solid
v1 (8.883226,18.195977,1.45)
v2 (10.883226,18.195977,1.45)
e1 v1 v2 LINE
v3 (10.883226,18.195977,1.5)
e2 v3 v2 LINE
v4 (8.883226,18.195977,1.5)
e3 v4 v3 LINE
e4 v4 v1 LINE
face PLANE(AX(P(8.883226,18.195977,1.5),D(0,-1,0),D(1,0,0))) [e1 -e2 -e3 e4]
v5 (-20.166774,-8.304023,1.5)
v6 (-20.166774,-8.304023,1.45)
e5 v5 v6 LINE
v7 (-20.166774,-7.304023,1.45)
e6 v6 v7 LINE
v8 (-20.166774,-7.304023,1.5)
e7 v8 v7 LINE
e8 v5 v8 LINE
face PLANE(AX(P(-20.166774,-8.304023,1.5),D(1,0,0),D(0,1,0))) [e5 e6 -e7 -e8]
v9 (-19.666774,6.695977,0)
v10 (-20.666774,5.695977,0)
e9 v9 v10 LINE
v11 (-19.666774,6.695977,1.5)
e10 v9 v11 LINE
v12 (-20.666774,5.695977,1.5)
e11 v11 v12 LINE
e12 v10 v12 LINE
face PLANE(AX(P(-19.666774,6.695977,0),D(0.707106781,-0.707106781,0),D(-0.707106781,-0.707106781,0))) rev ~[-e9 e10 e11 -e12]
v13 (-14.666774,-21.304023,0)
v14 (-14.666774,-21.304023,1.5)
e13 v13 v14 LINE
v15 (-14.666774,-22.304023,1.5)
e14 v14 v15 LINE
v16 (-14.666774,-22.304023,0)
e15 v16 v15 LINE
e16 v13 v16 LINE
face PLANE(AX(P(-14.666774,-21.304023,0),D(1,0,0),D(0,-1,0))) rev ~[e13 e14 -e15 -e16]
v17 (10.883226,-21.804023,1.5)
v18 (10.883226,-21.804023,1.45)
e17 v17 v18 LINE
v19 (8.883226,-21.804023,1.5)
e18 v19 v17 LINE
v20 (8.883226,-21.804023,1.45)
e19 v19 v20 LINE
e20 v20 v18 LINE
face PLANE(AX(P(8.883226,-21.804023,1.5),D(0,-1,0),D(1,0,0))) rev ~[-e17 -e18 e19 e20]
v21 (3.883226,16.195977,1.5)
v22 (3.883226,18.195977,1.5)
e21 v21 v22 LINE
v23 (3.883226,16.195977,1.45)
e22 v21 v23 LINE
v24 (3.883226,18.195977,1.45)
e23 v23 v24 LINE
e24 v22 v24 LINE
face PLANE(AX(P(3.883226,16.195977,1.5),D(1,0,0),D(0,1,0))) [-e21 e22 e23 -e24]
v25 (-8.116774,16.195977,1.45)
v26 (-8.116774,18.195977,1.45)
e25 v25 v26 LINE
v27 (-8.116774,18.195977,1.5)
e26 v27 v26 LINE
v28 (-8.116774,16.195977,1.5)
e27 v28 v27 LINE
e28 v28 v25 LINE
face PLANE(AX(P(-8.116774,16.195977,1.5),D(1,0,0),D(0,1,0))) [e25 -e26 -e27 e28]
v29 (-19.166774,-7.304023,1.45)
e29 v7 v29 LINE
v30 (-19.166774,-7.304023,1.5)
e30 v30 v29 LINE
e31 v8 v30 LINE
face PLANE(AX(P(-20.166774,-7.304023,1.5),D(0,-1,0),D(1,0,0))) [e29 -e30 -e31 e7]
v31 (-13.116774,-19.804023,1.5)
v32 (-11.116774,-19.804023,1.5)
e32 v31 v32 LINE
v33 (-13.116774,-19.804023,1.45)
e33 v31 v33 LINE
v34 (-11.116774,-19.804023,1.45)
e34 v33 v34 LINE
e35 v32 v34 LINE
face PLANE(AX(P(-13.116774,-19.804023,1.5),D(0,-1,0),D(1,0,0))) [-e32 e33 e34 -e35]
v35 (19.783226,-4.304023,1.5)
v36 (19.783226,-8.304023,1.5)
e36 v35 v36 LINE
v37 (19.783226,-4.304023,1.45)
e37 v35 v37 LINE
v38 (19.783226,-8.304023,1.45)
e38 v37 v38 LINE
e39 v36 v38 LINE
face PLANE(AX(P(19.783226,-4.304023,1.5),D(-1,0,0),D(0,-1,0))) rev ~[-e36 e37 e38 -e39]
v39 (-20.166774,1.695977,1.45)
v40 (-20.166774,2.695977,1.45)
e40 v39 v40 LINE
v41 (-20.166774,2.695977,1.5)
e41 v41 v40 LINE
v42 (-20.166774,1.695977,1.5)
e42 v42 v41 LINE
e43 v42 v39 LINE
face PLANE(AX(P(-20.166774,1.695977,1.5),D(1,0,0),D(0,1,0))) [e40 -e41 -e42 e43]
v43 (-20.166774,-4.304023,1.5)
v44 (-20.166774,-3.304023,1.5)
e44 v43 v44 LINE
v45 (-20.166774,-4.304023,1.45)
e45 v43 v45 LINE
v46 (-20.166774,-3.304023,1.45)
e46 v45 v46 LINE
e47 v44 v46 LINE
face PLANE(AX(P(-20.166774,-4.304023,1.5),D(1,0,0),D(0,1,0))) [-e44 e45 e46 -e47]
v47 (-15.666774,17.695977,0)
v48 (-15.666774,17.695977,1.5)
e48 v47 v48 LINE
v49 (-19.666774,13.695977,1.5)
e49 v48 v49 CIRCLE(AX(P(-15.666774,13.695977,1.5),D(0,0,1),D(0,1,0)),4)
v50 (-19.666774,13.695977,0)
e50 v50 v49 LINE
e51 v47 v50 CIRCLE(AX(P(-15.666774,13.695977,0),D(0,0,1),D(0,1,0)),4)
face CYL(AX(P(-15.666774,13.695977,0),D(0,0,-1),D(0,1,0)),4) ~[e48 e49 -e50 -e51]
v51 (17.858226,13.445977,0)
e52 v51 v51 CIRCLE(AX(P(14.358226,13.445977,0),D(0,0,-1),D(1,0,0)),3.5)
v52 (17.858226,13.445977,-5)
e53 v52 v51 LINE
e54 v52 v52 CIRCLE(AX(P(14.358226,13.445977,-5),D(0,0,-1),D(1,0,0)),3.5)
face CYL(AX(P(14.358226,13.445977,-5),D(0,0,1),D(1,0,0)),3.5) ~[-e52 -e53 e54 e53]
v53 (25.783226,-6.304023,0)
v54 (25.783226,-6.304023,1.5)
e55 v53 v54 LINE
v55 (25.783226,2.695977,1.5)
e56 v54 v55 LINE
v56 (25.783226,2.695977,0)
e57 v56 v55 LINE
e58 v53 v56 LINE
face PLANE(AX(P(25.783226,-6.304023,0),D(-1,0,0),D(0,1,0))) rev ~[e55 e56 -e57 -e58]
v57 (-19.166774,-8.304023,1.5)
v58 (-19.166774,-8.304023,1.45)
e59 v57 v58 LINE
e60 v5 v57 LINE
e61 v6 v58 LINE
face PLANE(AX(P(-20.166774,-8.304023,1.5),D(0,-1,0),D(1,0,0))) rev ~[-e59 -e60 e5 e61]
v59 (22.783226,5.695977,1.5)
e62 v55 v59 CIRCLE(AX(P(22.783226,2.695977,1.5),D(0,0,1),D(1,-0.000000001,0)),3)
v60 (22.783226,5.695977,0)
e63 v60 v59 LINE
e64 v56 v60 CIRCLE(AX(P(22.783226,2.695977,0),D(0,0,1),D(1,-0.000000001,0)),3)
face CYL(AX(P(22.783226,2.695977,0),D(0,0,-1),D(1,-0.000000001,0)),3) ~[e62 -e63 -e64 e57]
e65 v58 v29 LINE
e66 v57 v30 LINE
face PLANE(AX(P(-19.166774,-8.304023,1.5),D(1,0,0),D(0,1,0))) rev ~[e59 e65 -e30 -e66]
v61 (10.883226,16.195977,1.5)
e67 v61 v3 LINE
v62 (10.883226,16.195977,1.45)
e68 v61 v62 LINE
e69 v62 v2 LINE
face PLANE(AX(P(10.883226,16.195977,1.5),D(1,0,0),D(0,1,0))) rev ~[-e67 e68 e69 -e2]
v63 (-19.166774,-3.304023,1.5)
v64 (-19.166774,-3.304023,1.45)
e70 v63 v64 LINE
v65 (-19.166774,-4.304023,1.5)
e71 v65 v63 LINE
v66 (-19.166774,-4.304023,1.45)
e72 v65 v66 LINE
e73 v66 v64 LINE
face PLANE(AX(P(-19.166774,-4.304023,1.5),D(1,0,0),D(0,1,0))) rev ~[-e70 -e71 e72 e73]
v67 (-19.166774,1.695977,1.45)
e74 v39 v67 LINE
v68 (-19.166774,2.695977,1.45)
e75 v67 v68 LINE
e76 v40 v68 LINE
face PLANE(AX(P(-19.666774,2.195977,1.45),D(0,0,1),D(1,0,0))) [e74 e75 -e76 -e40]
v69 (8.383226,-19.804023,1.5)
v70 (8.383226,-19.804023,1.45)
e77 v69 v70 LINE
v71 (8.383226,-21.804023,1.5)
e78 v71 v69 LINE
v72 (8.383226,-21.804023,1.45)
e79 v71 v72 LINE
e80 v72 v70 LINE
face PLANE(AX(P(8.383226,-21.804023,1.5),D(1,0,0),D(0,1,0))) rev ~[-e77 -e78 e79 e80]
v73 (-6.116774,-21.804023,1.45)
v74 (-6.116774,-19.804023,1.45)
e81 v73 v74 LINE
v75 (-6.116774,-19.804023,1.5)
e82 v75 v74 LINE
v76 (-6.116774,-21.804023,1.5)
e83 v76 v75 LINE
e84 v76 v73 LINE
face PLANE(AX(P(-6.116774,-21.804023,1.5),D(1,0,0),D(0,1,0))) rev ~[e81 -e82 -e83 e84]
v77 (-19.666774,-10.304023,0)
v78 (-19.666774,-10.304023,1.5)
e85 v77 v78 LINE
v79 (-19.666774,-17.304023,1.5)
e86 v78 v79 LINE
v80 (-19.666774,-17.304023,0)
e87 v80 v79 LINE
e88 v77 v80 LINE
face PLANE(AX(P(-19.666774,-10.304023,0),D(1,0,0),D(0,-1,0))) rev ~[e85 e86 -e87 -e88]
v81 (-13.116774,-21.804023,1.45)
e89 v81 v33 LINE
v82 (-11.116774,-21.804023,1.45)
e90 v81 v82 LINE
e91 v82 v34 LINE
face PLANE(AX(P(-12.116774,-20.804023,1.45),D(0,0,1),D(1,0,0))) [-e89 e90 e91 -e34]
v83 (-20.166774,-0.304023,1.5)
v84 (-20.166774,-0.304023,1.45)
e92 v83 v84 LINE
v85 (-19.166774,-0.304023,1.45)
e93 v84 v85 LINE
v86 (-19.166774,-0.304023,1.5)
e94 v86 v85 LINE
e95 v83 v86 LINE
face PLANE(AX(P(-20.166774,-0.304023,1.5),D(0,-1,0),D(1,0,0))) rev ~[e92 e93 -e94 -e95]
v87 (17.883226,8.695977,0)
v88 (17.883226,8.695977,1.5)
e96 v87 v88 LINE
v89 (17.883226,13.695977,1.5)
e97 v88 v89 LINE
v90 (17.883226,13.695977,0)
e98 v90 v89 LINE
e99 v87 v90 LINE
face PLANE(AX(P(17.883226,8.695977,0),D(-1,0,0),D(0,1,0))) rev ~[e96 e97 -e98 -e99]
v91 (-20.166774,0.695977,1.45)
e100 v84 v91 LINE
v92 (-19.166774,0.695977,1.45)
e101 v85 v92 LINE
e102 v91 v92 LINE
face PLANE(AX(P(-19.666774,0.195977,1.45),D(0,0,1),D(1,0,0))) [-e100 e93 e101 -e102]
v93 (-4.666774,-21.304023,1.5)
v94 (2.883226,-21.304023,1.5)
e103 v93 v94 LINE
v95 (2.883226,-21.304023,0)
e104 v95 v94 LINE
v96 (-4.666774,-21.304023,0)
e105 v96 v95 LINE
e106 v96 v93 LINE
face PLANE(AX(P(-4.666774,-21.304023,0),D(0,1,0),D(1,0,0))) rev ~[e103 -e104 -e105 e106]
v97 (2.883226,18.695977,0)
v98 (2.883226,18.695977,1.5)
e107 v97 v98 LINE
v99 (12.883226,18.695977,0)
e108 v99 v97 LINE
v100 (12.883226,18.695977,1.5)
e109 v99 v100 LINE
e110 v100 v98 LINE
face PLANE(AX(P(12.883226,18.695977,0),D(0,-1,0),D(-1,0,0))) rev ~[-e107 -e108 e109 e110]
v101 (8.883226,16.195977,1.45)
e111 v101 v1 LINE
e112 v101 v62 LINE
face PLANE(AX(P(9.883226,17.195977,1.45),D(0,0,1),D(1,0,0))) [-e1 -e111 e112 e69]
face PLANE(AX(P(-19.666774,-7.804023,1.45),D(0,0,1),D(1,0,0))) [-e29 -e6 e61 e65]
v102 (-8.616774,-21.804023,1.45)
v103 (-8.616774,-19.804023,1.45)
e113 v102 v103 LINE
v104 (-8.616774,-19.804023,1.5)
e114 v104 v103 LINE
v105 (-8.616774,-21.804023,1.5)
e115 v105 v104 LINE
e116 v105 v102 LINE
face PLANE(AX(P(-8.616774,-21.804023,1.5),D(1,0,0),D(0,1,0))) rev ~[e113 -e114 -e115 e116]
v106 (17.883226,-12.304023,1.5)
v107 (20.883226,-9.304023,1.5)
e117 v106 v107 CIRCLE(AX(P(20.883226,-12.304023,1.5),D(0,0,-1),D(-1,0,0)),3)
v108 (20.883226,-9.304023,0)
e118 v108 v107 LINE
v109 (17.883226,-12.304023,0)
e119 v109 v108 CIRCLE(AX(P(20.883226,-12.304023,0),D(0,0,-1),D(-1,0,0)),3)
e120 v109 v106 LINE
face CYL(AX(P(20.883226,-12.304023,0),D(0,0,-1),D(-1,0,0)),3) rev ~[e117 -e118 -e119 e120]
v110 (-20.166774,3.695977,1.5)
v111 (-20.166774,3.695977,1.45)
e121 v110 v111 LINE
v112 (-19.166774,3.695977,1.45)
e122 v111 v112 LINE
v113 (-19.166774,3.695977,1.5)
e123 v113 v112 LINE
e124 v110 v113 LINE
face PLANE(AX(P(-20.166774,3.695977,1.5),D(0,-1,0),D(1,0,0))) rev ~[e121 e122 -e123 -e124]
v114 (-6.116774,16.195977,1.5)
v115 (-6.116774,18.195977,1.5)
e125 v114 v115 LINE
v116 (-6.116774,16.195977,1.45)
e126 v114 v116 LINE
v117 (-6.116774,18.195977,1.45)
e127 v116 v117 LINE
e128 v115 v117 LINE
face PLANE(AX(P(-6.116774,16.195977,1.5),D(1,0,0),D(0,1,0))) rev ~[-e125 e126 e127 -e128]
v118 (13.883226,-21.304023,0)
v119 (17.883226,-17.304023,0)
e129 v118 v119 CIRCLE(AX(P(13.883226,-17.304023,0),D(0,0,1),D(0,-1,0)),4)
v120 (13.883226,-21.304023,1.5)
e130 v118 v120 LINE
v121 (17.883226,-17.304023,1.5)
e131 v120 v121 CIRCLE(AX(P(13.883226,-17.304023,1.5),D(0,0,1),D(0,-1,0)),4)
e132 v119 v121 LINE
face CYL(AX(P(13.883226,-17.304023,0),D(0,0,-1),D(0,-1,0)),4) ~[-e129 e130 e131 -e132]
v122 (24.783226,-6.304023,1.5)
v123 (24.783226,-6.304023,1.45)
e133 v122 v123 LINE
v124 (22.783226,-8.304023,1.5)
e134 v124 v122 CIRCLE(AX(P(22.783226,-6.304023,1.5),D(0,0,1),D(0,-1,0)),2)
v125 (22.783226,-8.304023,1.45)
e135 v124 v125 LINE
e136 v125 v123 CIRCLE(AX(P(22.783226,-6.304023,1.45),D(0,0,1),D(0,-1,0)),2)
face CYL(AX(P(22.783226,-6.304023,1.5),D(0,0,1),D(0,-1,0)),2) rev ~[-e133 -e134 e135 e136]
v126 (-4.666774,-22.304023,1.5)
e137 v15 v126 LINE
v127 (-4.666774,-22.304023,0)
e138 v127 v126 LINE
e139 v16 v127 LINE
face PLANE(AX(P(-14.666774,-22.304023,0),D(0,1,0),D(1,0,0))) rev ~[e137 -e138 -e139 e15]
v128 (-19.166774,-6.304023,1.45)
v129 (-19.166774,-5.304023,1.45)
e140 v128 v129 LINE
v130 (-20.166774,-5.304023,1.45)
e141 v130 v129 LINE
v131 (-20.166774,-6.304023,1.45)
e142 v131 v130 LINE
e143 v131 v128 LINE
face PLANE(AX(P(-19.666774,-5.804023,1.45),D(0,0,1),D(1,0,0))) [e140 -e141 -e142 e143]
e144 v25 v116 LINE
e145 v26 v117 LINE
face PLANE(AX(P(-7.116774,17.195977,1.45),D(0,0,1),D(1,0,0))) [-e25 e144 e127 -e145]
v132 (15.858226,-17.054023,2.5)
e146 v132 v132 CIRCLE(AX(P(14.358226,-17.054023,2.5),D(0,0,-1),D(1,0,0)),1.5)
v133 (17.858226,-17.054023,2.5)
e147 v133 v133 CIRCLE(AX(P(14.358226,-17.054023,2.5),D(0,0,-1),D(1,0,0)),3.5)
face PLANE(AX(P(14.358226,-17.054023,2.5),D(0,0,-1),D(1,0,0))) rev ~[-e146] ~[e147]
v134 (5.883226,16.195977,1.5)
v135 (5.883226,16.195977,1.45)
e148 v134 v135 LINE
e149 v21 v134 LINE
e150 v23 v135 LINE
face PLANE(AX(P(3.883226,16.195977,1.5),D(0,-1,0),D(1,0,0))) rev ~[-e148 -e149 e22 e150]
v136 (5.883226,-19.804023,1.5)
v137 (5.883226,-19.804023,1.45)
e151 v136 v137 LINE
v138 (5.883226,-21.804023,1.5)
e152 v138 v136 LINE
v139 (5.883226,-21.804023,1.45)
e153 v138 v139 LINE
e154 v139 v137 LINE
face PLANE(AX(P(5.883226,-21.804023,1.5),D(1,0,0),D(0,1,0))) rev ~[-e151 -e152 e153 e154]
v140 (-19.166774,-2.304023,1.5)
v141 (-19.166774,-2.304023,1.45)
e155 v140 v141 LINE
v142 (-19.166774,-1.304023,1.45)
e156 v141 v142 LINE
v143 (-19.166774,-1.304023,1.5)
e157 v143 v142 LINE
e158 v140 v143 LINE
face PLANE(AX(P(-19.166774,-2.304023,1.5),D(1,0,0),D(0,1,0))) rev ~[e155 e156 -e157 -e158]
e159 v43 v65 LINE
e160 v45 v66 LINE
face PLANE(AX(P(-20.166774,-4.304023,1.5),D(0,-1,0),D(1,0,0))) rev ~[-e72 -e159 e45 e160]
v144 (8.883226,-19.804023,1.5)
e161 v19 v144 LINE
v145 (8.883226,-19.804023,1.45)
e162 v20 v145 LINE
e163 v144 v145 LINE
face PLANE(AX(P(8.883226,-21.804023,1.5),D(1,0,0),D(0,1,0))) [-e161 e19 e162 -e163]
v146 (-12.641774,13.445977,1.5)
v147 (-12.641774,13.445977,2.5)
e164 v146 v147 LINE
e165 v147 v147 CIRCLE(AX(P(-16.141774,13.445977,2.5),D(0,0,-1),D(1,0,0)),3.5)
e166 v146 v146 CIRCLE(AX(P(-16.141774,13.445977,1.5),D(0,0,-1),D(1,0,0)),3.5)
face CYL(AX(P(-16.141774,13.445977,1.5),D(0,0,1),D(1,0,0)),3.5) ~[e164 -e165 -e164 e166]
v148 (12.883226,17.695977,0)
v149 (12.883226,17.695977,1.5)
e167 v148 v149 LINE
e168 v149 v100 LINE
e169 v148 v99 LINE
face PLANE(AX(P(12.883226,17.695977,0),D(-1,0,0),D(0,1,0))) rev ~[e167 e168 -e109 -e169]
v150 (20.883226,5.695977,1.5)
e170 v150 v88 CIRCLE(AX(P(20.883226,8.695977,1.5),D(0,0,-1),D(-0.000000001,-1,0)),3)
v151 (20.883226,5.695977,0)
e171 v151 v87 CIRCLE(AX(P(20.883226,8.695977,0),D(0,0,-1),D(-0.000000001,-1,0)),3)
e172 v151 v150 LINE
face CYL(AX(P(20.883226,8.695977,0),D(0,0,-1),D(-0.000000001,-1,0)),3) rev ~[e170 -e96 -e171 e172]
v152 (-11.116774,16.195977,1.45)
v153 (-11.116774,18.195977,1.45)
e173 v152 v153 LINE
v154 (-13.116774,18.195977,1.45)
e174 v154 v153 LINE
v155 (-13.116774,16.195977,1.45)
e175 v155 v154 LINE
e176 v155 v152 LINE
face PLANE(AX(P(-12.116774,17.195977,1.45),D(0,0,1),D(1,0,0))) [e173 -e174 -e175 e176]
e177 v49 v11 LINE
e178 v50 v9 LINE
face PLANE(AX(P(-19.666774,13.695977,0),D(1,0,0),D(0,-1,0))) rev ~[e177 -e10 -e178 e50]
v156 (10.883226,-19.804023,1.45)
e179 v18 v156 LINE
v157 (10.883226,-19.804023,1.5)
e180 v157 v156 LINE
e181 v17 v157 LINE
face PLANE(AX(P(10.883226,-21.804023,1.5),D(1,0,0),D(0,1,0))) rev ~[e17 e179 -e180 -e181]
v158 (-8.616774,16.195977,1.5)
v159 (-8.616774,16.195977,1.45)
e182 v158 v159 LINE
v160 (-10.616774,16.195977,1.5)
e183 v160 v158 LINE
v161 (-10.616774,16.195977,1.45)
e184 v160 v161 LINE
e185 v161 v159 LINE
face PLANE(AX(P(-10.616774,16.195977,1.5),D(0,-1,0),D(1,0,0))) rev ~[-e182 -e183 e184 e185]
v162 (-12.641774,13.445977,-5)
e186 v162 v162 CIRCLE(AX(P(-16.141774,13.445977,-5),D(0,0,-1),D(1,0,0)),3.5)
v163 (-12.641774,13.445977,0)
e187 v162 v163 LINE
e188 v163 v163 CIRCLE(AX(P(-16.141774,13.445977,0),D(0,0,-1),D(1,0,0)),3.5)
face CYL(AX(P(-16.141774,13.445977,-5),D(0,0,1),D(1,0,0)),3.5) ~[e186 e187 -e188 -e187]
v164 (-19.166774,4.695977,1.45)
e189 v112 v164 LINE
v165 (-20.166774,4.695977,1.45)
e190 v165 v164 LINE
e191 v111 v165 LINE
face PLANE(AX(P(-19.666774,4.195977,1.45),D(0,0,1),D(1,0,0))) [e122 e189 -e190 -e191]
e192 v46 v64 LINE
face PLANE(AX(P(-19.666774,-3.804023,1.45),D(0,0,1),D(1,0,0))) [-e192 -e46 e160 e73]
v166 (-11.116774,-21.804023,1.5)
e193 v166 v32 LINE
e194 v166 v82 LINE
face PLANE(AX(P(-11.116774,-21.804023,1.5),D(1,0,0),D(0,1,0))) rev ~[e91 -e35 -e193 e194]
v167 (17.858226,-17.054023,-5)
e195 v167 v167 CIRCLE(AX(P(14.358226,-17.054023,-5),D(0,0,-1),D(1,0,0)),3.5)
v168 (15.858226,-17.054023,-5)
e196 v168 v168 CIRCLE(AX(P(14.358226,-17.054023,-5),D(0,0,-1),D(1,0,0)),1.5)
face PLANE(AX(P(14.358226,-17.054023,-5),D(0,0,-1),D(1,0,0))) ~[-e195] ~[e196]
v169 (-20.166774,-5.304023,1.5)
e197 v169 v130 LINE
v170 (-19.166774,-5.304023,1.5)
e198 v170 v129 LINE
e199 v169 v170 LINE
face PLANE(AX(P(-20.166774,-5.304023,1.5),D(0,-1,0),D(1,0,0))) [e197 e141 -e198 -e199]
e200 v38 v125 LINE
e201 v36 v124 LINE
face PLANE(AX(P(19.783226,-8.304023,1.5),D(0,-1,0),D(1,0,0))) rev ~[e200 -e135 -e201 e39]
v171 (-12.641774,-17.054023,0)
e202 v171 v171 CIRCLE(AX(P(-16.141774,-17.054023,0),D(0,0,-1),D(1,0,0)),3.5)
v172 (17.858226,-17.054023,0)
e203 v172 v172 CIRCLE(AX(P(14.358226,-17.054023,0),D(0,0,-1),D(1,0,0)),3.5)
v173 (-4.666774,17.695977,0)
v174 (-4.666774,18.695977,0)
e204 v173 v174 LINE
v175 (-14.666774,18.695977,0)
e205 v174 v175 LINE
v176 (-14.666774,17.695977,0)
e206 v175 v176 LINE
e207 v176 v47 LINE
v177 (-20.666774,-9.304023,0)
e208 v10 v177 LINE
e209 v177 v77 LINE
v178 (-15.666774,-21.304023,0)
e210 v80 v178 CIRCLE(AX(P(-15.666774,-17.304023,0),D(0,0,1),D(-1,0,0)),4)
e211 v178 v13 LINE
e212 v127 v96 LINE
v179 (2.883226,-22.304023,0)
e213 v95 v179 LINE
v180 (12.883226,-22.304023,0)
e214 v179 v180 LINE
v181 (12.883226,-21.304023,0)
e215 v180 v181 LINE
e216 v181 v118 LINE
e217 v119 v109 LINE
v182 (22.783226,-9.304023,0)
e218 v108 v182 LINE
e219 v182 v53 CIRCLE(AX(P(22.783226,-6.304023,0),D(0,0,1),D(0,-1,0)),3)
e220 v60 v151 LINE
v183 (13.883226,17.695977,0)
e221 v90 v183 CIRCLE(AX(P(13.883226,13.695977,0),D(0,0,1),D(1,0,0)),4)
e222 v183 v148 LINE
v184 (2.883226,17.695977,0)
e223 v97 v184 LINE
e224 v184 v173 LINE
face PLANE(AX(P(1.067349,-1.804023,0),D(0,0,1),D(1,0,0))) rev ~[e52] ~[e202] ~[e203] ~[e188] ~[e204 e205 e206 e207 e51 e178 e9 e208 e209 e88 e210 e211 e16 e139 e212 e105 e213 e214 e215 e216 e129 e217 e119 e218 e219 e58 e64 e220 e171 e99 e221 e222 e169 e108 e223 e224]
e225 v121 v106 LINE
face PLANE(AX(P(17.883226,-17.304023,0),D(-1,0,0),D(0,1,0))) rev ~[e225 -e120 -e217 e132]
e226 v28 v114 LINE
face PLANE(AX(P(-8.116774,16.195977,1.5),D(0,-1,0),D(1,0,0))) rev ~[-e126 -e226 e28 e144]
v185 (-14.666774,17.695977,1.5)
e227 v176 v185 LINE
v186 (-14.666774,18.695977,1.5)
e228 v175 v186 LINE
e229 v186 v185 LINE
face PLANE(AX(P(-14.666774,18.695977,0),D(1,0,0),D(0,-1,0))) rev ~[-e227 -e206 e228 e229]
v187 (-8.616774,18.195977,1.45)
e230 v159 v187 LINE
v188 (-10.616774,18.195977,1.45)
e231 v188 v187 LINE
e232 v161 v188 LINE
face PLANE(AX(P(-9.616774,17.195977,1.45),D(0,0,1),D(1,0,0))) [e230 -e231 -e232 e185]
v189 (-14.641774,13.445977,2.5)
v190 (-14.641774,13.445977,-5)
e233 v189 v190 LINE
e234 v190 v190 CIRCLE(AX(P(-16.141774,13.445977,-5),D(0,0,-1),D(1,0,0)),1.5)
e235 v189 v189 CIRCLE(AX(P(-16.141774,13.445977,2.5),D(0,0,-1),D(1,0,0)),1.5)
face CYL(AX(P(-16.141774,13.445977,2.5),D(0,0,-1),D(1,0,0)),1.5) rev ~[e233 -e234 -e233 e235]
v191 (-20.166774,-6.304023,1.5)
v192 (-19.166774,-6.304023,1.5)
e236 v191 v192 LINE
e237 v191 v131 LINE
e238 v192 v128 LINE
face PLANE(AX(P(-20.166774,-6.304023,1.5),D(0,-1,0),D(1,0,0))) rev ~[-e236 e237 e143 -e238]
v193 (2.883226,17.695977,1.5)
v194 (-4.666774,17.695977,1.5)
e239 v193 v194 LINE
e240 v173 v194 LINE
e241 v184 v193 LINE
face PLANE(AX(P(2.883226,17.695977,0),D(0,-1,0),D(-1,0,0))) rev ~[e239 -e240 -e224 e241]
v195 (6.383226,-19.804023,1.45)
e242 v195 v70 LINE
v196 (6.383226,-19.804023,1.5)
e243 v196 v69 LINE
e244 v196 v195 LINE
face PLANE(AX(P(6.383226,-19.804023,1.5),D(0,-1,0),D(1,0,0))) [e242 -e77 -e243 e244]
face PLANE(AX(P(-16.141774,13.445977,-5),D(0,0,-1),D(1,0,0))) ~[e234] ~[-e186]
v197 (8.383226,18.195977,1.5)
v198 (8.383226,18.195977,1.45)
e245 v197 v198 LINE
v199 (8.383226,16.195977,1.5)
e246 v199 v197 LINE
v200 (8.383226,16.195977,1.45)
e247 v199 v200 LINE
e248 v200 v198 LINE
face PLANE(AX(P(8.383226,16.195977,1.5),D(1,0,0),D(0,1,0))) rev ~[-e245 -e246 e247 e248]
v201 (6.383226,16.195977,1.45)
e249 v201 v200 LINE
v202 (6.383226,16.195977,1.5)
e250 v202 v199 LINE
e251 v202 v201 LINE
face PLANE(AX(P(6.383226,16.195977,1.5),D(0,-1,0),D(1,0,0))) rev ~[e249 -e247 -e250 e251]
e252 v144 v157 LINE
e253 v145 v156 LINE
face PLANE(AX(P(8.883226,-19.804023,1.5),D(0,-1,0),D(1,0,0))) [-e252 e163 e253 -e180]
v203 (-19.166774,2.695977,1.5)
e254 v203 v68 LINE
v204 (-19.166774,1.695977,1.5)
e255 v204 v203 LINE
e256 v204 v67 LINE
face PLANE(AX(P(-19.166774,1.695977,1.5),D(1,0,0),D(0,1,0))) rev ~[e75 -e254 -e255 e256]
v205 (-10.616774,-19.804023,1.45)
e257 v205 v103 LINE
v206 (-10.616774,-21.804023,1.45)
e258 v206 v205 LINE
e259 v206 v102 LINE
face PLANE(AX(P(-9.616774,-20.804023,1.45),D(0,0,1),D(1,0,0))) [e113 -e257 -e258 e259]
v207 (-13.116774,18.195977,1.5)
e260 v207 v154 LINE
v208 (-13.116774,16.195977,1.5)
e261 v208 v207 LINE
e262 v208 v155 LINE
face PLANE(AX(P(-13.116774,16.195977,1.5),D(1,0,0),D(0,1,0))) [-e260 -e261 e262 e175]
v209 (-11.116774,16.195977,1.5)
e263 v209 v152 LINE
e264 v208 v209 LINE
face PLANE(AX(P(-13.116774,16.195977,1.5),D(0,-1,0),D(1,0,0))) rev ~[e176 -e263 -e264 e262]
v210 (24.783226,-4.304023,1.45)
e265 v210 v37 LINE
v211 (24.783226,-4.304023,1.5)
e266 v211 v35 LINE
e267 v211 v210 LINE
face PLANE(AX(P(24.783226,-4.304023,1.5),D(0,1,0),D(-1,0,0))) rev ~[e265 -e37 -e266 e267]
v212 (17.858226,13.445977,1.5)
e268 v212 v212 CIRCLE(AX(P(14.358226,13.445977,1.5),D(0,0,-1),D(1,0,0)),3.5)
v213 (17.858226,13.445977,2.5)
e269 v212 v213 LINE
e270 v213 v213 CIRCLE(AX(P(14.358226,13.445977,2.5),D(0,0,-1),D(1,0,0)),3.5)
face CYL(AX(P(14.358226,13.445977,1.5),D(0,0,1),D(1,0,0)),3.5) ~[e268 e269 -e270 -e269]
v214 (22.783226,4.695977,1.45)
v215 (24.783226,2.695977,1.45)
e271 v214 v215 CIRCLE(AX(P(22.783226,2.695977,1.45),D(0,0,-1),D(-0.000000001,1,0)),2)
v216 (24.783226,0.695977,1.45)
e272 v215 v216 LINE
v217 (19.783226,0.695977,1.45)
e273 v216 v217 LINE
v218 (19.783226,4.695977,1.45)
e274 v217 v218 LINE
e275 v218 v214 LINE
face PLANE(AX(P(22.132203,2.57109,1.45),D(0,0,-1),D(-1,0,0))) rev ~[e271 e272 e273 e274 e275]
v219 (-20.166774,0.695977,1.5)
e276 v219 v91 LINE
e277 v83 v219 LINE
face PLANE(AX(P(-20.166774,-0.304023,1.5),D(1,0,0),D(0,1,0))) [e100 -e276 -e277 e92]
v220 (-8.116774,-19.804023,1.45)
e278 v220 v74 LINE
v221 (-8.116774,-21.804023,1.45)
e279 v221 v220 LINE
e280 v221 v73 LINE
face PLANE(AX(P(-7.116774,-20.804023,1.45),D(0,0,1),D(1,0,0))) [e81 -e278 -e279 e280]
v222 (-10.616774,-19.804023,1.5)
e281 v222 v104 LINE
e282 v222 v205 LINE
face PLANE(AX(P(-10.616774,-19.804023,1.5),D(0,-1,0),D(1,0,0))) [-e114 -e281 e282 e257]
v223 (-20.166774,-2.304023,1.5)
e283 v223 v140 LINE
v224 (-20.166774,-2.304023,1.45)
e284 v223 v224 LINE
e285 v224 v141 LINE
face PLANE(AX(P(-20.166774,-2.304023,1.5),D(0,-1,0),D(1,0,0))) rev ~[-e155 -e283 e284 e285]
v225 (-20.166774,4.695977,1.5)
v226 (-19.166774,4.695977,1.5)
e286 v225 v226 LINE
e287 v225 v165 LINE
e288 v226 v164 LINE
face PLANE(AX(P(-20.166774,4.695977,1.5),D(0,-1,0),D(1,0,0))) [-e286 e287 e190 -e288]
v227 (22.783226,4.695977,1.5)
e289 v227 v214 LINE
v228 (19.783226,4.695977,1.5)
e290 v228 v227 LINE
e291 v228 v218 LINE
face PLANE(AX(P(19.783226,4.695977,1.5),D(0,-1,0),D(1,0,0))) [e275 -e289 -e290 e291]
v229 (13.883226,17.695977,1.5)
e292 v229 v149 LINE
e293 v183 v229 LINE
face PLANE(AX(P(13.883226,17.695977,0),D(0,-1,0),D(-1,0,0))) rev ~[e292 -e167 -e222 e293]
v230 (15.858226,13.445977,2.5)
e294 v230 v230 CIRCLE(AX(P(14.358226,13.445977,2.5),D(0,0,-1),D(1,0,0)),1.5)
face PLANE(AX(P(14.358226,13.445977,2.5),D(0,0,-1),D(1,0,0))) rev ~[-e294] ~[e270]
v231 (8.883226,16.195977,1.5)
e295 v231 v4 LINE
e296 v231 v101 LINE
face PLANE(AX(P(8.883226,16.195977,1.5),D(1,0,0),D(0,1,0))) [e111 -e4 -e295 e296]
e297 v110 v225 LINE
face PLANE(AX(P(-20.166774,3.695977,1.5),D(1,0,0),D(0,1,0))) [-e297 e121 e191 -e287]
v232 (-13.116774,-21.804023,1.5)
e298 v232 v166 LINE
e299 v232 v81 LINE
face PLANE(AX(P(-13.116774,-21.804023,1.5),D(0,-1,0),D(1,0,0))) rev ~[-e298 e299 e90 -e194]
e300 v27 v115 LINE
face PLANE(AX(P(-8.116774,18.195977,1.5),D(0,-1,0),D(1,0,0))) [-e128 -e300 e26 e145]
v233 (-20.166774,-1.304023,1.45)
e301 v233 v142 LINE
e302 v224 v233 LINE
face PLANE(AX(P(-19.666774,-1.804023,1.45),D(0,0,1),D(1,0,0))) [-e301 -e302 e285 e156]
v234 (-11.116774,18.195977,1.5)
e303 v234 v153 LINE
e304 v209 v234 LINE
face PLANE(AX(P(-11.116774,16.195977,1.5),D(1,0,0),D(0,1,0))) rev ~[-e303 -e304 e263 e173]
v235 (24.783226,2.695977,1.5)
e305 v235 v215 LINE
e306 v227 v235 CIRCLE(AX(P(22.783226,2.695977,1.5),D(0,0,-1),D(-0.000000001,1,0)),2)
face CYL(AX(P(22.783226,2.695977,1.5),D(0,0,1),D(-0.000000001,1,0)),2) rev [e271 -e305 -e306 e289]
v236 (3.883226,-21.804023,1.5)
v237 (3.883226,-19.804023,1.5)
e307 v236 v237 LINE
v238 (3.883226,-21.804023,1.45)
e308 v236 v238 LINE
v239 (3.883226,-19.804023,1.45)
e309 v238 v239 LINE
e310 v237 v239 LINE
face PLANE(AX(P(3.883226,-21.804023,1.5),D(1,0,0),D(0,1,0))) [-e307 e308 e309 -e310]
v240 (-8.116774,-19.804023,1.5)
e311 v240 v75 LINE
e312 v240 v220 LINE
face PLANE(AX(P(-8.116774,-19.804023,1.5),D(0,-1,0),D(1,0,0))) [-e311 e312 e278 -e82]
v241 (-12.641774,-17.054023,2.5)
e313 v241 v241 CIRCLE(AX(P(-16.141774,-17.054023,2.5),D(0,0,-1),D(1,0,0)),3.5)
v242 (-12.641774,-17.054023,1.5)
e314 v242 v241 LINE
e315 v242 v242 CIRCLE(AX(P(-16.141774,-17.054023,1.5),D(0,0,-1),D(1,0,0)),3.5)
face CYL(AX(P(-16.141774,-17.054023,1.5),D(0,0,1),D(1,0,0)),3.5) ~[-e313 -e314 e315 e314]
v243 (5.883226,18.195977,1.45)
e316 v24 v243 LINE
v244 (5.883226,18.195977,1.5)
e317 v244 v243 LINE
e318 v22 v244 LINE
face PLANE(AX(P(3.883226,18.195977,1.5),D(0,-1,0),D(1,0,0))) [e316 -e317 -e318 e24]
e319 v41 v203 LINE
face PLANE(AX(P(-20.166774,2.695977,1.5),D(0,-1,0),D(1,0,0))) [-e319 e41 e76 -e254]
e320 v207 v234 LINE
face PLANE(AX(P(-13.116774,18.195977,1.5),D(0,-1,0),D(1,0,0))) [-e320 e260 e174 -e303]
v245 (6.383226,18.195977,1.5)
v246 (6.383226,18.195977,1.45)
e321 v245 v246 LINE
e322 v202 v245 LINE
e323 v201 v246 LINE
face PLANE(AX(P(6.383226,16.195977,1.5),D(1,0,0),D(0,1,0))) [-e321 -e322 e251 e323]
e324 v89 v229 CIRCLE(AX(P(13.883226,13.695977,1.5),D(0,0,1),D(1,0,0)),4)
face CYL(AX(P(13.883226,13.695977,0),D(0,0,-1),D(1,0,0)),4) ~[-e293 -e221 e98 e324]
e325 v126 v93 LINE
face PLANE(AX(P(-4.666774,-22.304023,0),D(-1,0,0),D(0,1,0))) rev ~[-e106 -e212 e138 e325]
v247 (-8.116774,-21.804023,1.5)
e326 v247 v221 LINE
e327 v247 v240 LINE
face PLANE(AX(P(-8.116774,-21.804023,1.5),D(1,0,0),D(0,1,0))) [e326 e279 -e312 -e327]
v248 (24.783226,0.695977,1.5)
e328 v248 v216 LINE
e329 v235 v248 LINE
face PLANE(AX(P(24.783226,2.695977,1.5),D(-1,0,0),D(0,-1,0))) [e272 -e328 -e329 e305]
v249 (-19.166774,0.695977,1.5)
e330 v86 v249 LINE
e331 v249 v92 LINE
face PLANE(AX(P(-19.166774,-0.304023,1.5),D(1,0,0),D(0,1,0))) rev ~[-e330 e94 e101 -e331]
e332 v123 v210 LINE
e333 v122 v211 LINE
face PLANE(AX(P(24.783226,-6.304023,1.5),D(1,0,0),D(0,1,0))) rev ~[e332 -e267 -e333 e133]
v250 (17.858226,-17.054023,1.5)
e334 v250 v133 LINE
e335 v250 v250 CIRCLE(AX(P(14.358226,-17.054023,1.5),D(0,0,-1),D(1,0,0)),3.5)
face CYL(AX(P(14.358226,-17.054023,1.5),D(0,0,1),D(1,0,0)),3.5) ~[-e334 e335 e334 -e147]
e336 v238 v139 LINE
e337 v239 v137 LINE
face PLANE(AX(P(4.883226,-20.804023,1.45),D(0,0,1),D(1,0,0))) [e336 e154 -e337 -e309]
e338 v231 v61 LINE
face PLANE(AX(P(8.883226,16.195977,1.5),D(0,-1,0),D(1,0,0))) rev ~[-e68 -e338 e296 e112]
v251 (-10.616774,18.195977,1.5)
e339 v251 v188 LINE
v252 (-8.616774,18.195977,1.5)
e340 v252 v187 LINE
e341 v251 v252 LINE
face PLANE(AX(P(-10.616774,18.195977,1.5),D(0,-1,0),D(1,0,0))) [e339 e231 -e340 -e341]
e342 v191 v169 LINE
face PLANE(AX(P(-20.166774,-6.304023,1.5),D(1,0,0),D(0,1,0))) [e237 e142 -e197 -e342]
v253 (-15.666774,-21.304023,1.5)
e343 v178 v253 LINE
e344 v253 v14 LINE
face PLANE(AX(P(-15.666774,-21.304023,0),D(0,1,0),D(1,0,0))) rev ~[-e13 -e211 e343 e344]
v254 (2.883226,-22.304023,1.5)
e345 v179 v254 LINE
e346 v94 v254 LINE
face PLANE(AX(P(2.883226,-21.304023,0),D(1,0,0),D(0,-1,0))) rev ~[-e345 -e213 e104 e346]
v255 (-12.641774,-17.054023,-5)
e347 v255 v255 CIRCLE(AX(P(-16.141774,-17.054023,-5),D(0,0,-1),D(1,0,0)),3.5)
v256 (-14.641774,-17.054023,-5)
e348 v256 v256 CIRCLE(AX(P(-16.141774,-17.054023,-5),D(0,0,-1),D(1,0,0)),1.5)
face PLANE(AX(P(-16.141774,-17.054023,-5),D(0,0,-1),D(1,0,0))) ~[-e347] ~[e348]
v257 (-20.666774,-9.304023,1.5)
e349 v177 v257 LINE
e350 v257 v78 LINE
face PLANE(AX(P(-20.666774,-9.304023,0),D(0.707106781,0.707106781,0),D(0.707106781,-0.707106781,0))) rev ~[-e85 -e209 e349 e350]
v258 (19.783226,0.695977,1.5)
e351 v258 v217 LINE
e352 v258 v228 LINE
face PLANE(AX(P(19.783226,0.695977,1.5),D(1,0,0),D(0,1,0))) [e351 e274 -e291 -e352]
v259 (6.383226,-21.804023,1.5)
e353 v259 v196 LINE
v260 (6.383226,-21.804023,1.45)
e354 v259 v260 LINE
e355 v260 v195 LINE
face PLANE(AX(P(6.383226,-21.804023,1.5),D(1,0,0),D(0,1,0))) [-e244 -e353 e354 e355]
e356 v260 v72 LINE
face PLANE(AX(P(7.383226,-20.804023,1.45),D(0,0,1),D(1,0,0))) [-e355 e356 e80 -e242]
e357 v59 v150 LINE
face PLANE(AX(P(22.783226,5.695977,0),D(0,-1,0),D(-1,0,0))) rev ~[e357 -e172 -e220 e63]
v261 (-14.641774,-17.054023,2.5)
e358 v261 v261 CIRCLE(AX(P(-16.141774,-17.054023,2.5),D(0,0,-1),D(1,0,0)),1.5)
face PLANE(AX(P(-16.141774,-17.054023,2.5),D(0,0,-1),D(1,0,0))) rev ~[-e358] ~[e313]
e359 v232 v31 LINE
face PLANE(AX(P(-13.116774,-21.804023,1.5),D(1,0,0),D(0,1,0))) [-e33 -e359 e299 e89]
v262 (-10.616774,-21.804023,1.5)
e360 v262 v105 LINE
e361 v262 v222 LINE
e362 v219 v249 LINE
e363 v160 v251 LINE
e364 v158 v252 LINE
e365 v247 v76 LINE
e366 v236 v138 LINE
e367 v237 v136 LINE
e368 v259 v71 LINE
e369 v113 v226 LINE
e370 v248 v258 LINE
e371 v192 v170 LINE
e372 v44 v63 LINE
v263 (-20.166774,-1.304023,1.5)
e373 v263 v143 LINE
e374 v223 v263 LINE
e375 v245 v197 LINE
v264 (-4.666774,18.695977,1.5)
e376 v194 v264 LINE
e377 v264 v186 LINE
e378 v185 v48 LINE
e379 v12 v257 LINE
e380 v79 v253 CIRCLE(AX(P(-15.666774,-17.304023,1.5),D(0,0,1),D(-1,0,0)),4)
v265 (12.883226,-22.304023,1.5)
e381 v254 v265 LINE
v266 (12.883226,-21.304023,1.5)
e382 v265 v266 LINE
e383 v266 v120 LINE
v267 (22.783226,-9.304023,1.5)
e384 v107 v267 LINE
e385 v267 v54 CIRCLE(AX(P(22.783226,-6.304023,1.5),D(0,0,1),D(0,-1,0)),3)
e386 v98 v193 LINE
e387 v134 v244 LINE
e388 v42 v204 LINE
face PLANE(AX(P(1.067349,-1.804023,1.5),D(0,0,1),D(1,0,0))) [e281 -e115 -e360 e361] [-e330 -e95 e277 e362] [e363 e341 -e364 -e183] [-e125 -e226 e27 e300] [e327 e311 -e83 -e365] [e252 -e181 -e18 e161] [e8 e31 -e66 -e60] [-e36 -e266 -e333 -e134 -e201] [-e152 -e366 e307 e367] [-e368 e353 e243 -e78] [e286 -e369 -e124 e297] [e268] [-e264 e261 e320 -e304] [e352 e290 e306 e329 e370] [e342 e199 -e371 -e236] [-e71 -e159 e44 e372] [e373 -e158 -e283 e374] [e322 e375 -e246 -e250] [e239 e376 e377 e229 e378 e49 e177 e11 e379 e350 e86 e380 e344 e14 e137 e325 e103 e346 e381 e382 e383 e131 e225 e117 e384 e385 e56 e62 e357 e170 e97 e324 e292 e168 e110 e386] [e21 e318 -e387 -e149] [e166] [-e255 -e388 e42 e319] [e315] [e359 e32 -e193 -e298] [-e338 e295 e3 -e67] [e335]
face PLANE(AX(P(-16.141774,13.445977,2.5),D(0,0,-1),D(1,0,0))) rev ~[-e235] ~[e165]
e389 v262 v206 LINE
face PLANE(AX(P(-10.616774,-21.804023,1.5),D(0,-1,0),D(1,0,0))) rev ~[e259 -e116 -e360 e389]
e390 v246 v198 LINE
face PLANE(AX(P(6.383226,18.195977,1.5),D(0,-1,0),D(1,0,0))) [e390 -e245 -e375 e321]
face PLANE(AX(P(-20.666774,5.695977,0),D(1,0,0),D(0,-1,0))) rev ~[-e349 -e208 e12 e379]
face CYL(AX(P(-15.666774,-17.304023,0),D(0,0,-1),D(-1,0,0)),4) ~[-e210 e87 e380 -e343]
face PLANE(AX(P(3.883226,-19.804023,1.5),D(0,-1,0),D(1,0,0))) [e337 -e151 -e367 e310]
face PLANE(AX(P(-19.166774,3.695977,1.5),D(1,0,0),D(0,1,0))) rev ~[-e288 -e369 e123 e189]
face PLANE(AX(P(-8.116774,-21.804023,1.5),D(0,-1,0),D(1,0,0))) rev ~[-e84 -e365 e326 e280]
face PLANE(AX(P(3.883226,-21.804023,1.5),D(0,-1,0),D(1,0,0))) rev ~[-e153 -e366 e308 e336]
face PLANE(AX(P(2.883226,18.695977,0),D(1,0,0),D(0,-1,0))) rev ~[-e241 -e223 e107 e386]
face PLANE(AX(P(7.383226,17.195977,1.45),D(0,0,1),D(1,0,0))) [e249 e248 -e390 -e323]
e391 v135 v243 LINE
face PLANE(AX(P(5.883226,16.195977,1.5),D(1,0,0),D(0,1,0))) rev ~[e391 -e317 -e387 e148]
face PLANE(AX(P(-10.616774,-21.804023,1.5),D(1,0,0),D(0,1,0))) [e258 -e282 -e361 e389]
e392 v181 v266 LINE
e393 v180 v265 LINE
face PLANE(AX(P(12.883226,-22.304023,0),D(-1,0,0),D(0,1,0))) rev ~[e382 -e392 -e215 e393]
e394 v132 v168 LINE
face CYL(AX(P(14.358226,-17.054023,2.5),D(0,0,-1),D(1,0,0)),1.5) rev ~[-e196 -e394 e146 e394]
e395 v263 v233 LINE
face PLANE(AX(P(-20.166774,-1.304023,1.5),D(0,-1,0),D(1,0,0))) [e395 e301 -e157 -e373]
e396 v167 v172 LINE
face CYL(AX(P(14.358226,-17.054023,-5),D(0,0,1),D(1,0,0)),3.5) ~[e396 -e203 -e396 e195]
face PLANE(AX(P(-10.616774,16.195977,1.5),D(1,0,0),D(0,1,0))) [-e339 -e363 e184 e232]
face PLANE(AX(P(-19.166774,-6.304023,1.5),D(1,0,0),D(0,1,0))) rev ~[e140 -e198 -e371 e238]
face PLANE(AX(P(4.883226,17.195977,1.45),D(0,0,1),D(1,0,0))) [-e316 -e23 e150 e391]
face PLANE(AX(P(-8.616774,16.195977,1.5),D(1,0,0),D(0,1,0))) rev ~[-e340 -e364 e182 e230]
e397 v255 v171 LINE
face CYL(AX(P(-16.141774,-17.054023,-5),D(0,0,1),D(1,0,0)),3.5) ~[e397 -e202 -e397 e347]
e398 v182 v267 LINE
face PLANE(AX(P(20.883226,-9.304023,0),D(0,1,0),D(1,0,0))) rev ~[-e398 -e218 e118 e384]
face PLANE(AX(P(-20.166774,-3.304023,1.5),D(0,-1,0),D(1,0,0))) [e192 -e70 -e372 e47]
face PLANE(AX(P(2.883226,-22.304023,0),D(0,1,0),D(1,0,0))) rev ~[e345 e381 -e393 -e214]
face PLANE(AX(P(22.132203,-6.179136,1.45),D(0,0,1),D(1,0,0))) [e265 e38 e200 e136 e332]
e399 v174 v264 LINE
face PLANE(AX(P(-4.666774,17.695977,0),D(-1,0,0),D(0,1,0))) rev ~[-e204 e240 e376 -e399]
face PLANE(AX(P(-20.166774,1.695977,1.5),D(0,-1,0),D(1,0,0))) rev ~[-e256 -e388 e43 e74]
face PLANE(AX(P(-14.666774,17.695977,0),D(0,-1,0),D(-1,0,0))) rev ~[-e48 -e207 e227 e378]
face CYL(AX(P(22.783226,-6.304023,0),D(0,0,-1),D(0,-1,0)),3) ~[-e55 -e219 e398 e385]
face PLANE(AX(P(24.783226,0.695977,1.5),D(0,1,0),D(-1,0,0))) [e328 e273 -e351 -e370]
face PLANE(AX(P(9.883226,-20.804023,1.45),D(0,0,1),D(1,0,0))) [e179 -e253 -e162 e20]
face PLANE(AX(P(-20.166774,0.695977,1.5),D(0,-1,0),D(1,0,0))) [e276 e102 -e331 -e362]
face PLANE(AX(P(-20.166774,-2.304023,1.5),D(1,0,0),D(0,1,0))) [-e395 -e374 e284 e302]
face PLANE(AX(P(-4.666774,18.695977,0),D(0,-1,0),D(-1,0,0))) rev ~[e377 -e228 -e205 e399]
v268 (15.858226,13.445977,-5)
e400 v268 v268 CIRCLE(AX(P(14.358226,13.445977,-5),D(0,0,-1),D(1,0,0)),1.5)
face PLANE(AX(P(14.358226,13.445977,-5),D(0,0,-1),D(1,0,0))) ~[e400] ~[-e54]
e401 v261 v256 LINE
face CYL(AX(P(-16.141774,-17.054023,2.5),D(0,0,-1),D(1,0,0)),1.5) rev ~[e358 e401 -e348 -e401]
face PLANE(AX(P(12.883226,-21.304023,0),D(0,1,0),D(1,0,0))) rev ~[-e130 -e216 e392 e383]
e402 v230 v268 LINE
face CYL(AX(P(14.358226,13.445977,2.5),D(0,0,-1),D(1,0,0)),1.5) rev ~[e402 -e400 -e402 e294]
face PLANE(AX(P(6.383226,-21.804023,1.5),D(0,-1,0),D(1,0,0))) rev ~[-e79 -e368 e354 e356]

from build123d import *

# Parameters (mm, degrees)
CROQUIS1_R              = 2.5
SALIENTE_EXTRUIR1_DEPTH = 1.5
MATRIZL1_COUNT          = 2
MATRIZL1_PITCH          = 30.5
MATRIZL1_COUNT_DIR2     = 2
MATRIZL1_PITCH_DIR2     = 30.5
CROQUIS4_W              = 2
CROQUIS4_H              = 2
CROQUIS4_W_2            = 1
CROQUIS4_H_2            = 1
CORTAR_EXTRUIR1_DEPTH   = 0.05


with BuildPart() as part:
    # Croquis1 → Saliente-Extruir1 (new body)
    with BuildSketch(Plane.XY):
        with BuildLine():
            Line((-19.66677388, 13.695977011), (-19.66677388, 6.695977011))
            Line((-19.66677388, 6.695977011), (-20.66677388, 5.695977011))
            Line((-20.66677388, 5.695977011), (-20.66677388, -9.304022989))
            Line((-20.66677388, -9.304022989), (-19.66677388, -10.304022989))
            Line((-19.66677388, -10.304022989), (-19.66677388, -17.304022989))
            ThreePointArc((-19.66677388, -17.304022989), (-18.495201005, -20.132450113), (-15.66677388, -21.304022989))
            Line((-15.66677388, -21.304022989), (-14.66677388, -21.304022989))
            Line((-14.66677388, -21.304022989), (-14.66677388, -22.304022989))
            Line((-14.66677388, -22.304022989), (-4.66677388, -22.304022989))
            Line((-4.66677388, -22.304022989), (-4.66677388, -21.304022989))
            Line((-4.66677388, -21.304022989), (2.88322612, -21.304022989))
            Line((2.88322612, -21.304022989), (2.88322612, -22.304022989))
            Line((2.88322612, -22.304022989), (12.88322612, -22.304022989))
            Line((12.88322612, -22.304022989), (12.88322612, -21.304022989))
            Line((12.88322612, -21.304022989), (13.88322612, -21.304022989))
            ThreePointArc((13.88322612, -21.304022989), (16.711653245, -20.132450113), (17.88322612, -17.304022989))
            Line((17.88322612, -17.304022989), (17.88322612, -12.304022989))
            ThreePointArc((17.88322612, -12.304022989), (18.761905777, -10.182702645), (20.88322612, -9.304022989))
            Line((20.88322612, -9.304022989), (22.78322612, -9.304022989))
            ThreePointArc((22.78322612, -9.304022989), (24.904546464, -8.425343332), (25.78322612, -6.304022989))
            Line((25.78322612, -6.304022989), (25.78322612, 2.695977011))
            ThreePointArc((25.78322612, 2.695977011), (24.904546464, 4.817297355), (22.78322612, 5.695977011))
            Line((22.78322612, 5.695977011), (20.88322612, 5.695977011))
            ThreePointArc((20.88322612, 5.695977011), (18.761905777, 6.574656668), (17.88322612, 8.695977011))
            Line((17.88322612, 8.695977011), (17.88322612, 13.695977011))
            ThreePointArc((17.88322612, 13.695977011), (16.711653245, 16.524404136), (13.88322612, 17.695977011))
            Line((13.88322612, 17.695977011), (12.88322612, 17.695977011))
            Line((12.88322612, 17.695977011), (12.88322612, 18.695977011))
            Line((12.88322612, 18.695977011), (2.88322612, 18.695977011))
            Line((2.88322612, 18.695977011), (2.88322612, 17.695977011))
            Line((2.88322612, 17.695977011), (-4.66677388, 17.695977011))
            Line((-4.66677388, 17.695977011), (-4.66677388, 18.695977011))
            Line((-4.66677388, 18.695977011), (-14.66677388, 18.695977011))
            Line((-14.66677388, 18.695977011), (-14.66677388, 17.695977011))
            Line((-14.66677388, 17.695977011), (-15.66677388, 17.695977011))
            ThreePointArc((-15.66677388, 17.695977011), (-18.495201005, 16.524404136), (-19.66677388, 13.695977011))
        make_face()
        with Locations((-16.14177388, 13.445977011)):
            Circle(CROQUIS1_R, mode=Mode.SUBTRACT)
        with Locations((14.35822612, 13.445977011)):
            Circle(CROQUIS1_R, mode=Mode.SUBTRACT)
        with Locations((14.35822612, -17.054022989)):
            Circle(CROQUIS1_R, mode=Mode.SUBTRACT)
        with Locations((-16.14177388, -17.054022989)):
            Circle(CROQUIS1_R, mode=Mode.SUBTRACT)
    extrude(amount=SALIENTE_EXTRUIR1_DEPTH)

    # Croquis3 → Revolución1 (revolve)
    with BuildSketch(Plane(origin=(0, -17.054022989, 0), x_dir=(-1, 0, 0), z_dir=(0, -1, 0)), mode=Mode.PRIVATE) as revoluci_n1_sk:
        Polygon((18.64177388, -1.5), (19.64177388, -1.5), (19.64177388, -2.5), (17.64177388, -2.5), (17.64177388, 5), (19.64177388, 5), (19.64177388, 0), (18.64177388, 0), align=None)
    revoluci_n1 = revolve(revoluci_n1_sk.sketch.rotate(Axis((-16.14177388, -17.054022989, 2.5), (0, 0, -1)), 180), axis=Axis((-16.14177388, -17.054022989, 2.5), (0, 0, -1)))

    # MatrizL1: Revoluci_n1 2 × 2
    with Locations(*[(i * MATRIZL1_PITCH, j * MATRIZL1_PITCH_DIR2, 0) for i in range(MATRIZL1_COUNT) for j in range(MATRIZL1_COUNT_DIR2) if (i, j) != (0, 0)]):
        add(revoluci_n1)

    # Croquis4 → Cortar-Extruir1 (cut)
    with BuildSketch(Plane.XY.offset(1.5)):
        with BuildLine():
            Line((19.78322612, -8.304022989), (22.78322612, -8.304022989))
            ThreePointArc((22.78322612, -8.304022989), (24.197439683, -7.718236551), (24.78322612, -6.304022989))
            Line((24.78322612, -6.304022989), (24.78322612, -4.304022989))
            Line((24.78322612, -4.304022989), (19.78322612, -4.304022989))
            Line((19.78322612, -4.304022989), (19.78322612, -8.304022989))
        make_face()
        with Locations((9.88322612, -20.804022989)):
            Rectangle(CROQUIS4_W, CROQUIS4_H)
        with Locations((-19.66677388, -7.804022989)):
            Rectangle(CROQUIS4_W_2, CROQUIS4_H_2)
        with Locations((7.38322612, -20.804022989)):
            Rectangle(CROQUIS4_W, CROQUIS4_H)
        with Locations((4.88322612, -20.804022989)):
            Rectangle(CROQUIS4_W, CROQUIS4_H)
        with Locations((-7.11677388, -20.804022989)):
            Rectangle(CROQUIS4_W, CROQUIS4_H)
        with Locations((-9.61677388, -20.804022989)):
            Rectangle(CROQUIS4_W, CROQUIS4_H)
        with Locations((-12.11677388, -20.804022989)):
            Rectangle(CROQUIS4_W, CROQUIS4_H)
        with Locations((-19.66677388, -5.804022989)):
            Rectangle(CROQUIS4_W_2, CROQUIS4_H_2)
        with Locations((-19.66677388, -3.804022989)):
            Rectangle(CROQUIS4_W_2, CROQUIS4_H_2)
        with Locations((-19.66677388, -1.804022989)):
            Rectangle(CROQUIS4_W_2, CROQUIS4_H_2)
        with Locations((-19.66677388, 0.195977011)):
            Rectangle(CROQUIS4_W_2, CROQUIS4_H_2)
        with Locations((-19.66677388, 2.195977011)):
            Rectangle(CROQUIS4_W_2, CROQUIS4_H_2)
        with Locations((-19.66677388, 4.195977011)):
            Rectangle(CROQUIS4_W_2, CROQUIS4_H_2)
        with Locations((-12.11677388, 17.195977011)):
            Rectangle(CROQUIS4_W, CROQUIS4_H)
        with Locations((-9.61677388, 17.195977011)):
            Rectangle(CROQUIS4_W, CROQUIS4_H)
        with Locations((-7.11677388, 17.195977011)):
            Rectangle(CROQUIS4_W, CROQUIS4_H)
        with Locations((4.88322612, 17.195977011)):
            Rectangle(CROQUIS4_W, CROQUIS4_H)
        with Locations((7.38322612, 17.195977011)):
            Rectangle(CROQUIS4_W, CROQUIS4_H)
        with Locations((9.88322612, 17.195977011)):
            Rectangle(CROQUIS4_W, CROQUIS4_H)
        with BuildLine():
            Line((24.78322612, 2.695977011), (24.78322612, 0.695977011))
            Line((24.78322612, 0.695977011), (19.78322612, 0.695977011))
            Line((19.78322612, 0.695977011), (19.78322612, 4.695977011))
            Line((19.78322612, 4.695977011), (22.78322612, 4.695977011))
            ThreePointArc((22.78322612, 4.695977011), (24.197439683, 4.110190574), (24.78322612, 2.695977011))
        make_face()
    extrude(amount=-CORTAR_EXTRUIR1_DEPTH, mode=Mode.SUBTRACT)


solid = part.part
